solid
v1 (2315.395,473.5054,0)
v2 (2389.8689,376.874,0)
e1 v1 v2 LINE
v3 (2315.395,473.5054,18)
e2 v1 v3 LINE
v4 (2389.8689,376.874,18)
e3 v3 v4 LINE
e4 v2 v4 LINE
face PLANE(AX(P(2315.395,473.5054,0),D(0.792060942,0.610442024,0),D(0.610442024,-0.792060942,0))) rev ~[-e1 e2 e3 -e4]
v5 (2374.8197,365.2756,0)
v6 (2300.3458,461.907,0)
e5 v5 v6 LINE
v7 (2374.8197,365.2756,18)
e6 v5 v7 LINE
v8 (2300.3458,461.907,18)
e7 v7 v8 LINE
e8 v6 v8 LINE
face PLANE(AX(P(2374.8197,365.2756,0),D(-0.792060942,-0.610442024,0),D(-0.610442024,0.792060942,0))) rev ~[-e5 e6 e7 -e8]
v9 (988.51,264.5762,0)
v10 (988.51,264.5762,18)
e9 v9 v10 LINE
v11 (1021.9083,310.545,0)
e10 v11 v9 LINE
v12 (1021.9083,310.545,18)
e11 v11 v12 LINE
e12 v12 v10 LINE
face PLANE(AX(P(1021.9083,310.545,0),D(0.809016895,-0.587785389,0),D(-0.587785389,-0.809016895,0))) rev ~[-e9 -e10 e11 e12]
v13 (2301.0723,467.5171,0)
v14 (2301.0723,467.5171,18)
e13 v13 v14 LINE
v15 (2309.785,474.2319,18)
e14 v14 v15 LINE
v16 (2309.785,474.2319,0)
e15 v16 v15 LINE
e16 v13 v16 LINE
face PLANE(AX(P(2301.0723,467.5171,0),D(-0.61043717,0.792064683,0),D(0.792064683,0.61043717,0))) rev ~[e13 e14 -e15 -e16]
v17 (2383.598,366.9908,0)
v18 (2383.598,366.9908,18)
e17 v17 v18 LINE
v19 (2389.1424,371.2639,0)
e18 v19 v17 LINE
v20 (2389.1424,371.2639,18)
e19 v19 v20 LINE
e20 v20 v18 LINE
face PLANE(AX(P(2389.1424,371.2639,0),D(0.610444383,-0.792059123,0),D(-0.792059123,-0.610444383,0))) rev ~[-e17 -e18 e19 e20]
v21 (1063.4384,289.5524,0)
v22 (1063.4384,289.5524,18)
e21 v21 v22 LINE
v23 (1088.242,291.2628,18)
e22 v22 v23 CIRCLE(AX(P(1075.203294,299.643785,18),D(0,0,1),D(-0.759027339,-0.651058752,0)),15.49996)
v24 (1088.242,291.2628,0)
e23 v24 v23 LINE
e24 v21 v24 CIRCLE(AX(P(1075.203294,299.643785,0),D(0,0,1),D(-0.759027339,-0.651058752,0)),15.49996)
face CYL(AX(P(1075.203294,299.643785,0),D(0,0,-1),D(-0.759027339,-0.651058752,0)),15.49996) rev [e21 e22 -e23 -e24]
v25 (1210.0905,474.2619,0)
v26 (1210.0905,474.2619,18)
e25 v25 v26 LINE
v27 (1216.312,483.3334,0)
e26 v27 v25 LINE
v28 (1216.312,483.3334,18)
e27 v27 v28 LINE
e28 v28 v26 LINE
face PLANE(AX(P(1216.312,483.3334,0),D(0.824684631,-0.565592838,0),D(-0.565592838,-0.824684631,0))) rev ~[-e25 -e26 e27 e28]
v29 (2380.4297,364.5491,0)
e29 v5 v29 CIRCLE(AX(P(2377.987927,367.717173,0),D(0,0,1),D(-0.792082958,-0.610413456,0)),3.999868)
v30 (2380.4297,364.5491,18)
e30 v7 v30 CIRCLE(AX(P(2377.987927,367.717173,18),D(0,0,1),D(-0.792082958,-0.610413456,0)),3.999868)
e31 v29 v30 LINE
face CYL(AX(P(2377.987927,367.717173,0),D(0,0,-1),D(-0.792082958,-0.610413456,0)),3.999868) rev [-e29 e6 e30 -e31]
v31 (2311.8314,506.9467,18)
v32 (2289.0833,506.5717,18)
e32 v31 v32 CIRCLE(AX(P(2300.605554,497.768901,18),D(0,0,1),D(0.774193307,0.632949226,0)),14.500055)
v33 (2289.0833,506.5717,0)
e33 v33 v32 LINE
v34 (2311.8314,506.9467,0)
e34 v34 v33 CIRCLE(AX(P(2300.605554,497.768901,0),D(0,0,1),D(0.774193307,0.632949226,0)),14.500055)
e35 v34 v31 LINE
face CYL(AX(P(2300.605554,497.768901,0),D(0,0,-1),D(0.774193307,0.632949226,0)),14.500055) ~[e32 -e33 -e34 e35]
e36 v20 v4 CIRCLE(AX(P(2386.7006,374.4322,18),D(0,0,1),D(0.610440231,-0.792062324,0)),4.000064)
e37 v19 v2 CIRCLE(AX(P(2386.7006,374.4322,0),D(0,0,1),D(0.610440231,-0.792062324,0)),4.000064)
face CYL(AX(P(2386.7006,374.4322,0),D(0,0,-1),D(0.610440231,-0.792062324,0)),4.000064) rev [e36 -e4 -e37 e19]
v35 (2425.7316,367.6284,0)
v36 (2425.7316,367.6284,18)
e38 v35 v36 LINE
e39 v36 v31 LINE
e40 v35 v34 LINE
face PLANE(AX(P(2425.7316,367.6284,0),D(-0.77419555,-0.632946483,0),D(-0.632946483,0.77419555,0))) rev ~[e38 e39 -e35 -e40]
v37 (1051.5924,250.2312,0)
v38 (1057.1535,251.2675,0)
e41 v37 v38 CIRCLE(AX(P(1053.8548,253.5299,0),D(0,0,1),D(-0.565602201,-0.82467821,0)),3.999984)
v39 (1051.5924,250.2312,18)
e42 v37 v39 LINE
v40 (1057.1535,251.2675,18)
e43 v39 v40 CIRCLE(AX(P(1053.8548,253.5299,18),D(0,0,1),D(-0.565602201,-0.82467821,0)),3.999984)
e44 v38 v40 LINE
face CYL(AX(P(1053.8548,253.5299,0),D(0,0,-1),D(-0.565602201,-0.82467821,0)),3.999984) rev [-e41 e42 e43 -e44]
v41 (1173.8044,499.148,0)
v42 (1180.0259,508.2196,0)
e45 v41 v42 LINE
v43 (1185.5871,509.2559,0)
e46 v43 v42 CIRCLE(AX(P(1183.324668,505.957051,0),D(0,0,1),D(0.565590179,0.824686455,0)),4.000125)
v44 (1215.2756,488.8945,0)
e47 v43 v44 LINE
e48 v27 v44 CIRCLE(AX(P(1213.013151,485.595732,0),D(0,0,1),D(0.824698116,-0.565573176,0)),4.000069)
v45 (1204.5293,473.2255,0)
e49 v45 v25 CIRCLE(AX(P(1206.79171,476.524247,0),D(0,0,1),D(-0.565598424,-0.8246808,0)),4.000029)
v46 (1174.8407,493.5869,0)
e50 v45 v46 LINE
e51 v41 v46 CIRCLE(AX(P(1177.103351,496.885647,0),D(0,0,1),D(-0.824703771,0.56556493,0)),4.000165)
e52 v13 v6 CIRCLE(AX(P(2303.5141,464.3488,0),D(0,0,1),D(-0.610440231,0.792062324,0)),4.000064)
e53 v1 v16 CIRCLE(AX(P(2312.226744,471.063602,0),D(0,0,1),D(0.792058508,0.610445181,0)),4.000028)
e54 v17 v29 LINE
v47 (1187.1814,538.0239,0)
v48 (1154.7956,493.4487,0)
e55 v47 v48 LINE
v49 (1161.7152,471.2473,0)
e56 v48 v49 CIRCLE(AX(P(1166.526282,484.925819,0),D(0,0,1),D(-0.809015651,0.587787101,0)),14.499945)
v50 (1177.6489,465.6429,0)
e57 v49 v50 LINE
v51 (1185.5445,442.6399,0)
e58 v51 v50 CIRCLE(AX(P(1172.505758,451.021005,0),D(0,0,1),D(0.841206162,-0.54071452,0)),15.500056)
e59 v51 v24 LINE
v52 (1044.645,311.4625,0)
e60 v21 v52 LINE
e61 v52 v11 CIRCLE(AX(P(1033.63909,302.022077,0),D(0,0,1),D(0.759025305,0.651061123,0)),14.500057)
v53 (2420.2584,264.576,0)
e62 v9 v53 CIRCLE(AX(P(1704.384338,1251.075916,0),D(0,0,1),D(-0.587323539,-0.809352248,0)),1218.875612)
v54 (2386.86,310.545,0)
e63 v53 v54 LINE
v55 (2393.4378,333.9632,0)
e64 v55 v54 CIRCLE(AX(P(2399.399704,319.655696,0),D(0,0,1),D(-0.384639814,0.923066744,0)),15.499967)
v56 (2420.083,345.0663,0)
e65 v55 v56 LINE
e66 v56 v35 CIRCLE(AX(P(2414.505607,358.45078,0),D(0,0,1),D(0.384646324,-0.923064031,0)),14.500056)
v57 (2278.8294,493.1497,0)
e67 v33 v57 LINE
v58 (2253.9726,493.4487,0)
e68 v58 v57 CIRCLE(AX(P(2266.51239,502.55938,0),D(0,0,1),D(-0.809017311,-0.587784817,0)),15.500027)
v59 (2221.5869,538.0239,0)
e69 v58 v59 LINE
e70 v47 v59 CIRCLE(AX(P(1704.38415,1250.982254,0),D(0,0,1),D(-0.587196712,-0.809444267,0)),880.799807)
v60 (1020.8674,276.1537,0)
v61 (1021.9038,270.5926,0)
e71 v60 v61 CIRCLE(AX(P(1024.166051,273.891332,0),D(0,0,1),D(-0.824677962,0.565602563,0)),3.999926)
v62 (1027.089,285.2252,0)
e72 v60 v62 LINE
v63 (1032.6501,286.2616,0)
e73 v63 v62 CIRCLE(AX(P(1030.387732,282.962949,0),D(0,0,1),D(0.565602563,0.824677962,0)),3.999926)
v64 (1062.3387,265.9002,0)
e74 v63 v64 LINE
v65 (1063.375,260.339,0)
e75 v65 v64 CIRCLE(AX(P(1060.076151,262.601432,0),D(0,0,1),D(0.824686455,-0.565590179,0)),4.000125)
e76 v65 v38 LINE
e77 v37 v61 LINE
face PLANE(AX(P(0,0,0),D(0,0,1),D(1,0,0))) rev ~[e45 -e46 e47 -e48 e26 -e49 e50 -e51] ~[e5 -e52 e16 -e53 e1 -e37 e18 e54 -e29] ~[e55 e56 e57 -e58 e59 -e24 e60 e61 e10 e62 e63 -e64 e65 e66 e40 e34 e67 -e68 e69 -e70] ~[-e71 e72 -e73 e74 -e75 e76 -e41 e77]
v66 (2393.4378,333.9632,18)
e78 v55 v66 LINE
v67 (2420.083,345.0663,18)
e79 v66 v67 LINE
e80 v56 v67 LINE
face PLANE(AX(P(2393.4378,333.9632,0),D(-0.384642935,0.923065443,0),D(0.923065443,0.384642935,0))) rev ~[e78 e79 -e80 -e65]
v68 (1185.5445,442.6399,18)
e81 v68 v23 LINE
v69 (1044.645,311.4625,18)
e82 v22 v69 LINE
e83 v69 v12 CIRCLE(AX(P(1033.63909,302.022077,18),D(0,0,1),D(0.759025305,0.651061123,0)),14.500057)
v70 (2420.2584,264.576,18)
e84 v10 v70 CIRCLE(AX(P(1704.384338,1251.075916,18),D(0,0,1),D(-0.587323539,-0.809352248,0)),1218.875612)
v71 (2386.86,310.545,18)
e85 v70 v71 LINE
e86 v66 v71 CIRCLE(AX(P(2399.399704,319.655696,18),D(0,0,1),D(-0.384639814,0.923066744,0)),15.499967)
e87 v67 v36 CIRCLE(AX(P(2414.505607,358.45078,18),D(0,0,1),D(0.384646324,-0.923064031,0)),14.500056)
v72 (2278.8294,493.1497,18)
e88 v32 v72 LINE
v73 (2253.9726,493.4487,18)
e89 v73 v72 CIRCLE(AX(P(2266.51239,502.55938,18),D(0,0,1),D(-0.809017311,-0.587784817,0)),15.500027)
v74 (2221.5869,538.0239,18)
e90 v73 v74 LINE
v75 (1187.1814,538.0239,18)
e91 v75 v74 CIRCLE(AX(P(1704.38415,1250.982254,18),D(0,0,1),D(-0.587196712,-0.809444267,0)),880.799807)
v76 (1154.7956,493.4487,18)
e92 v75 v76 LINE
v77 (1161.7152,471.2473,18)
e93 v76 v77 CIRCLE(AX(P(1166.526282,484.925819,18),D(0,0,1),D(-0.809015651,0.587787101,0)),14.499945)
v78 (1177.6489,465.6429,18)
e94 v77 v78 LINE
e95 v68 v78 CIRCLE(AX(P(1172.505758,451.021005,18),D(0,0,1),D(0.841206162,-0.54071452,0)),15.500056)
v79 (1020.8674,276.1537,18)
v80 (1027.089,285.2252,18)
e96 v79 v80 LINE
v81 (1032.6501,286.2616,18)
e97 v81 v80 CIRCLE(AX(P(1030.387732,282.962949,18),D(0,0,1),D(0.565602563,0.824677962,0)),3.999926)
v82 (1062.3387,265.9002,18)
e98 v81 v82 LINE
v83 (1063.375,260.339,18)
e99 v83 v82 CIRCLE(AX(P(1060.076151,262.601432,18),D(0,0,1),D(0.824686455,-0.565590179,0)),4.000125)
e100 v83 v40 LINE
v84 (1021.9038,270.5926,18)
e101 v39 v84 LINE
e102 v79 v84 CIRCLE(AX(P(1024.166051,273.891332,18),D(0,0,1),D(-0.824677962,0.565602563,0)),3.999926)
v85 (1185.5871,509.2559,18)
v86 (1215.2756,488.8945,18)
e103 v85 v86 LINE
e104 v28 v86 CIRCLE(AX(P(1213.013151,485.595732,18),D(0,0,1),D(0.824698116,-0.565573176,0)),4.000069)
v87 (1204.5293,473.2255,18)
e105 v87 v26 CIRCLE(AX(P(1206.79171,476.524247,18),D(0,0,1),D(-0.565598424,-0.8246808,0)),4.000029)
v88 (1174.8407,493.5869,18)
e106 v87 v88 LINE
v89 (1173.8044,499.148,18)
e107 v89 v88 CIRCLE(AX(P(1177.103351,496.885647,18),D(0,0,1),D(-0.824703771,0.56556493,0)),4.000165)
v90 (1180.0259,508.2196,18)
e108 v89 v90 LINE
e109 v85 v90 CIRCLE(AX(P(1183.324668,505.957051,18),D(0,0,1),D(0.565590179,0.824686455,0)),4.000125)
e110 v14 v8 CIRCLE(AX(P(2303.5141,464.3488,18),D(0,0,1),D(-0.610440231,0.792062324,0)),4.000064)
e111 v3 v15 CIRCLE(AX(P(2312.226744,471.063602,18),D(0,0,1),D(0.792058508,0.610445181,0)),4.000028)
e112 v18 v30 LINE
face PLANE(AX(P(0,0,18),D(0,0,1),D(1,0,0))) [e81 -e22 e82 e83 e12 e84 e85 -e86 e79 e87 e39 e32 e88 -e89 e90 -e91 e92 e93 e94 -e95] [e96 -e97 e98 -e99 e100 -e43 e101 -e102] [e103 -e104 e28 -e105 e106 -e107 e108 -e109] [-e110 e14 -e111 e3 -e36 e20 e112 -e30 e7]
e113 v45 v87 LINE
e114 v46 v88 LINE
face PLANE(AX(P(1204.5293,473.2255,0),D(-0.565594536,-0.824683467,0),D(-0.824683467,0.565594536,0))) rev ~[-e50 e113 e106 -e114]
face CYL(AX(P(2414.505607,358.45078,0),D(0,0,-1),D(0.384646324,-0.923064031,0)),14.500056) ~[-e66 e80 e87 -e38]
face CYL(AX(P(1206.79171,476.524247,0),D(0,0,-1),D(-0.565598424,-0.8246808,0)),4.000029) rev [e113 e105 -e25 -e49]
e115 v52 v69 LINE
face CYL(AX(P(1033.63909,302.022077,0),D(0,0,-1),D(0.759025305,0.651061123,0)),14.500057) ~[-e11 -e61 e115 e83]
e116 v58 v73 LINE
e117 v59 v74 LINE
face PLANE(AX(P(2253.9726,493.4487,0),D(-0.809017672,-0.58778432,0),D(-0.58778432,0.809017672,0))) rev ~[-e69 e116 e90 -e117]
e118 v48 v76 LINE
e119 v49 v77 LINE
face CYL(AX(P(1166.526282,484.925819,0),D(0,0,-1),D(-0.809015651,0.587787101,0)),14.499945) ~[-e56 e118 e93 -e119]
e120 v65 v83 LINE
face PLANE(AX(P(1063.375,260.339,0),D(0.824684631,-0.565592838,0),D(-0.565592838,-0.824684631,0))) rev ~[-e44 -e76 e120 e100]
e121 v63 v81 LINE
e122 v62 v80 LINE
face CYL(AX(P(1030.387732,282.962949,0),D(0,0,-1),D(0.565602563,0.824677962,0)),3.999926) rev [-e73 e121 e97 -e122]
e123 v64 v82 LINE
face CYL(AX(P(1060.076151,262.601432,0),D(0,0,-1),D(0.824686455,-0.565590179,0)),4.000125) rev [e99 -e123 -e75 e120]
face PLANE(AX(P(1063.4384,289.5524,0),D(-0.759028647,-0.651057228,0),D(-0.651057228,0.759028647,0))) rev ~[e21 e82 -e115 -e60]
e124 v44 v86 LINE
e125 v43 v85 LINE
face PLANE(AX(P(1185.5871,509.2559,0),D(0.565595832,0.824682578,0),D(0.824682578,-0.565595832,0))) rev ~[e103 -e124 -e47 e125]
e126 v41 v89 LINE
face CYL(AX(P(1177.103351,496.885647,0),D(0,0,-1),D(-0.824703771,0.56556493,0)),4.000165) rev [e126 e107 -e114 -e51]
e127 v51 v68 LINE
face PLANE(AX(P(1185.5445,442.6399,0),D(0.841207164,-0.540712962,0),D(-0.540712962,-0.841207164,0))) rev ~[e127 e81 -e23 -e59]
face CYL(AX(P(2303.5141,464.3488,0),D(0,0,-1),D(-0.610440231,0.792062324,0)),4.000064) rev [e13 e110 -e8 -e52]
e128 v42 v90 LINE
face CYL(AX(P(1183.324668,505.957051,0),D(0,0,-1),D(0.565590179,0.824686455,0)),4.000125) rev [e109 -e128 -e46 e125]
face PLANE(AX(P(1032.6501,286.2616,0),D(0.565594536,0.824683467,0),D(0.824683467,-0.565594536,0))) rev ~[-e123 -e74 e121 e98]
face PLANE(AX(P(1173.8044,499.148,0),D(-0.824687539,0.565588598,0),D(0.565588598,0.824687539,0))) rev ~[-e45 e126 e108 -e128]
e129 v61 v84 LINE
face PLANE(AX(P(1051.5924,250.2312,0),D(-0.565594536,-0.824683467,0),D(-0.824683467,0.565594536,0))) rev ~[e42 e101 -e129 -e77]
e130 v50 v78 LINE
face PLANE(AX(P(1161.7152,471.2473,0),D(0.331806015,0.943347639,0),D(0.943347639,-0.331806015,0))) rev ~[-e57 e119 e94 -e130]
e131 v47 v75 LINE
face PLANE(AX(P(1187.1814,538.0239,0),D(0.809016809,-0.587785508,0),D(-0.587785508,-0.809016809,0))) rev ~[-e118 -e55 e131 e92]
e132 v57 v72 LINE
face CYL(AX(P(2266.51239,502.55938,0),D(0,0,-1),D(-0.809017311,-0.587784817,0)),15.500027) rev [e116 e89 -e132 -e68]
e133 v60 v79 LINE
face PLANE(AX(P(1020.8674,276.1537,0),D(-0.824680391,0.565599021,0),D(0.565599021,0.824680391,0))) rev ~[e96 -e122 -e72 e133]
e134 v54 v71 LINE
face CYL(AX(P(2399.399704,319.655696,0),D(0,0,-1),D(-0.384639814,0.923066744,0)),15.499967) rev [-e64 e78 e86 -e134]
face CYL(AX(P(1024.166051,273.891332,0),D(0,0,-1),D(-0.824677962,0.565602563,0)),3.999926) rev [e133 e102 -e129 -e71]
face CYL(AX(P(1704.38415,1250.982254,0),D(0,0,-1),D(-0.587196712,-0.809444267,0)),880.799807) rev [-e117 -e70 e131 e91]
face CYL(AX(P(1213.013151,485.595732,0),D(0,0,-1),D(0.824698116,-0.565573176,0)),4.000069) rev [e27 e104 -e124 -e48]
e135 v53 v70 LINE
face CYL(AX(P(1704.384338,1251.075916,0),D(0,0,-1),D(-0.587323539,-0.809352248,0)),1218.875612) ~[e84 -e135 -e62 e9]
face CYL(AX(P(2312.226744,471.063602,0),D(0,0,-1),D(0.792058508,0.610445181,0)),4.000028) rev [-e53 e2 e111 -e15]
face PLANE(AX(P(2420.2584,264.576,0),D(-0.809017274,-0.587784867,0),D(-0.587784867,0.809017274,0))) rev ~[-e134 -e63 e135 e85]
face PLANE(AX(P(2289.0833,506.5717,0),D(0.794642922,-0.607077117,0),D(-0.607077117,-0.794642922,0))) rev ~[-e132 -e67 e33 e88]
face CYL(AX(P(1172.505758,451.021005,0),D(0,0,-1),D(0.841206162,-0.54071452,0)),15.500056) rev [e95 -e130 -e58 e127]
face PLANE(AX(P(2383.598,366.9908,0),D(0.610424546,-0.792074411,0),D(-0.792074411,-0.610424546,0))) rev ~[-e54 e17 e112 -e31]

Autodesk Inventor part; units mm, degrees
ref_plane "YZ Plane" through (0, 0, 0) normal (1, 0, 0) x (0, 1, 0)
ref_plane "XZ Plane" through (0, 0, 0) normal (0, 1, 0) x (-1, 0, 0)
ref_plane "XY Plane" through (0, 0, 0) normal (0, 0, 1) x (1, 0, 0)
sketch "CONTOURS" plane through (0, 0, 0) normal (0, 0, 1) x (1, 0, 0)
  line L0 (1187.1814, 538.0239) -> (1154.7956, 493.4487)
  arc A0 (1154.7956, 493.4487) -> (1161.7152, 471.2473) centre (1166.5264, 484.9258) ccw
  line L1 (1161.7152, 471.2473) -> (1177.6489, 465.6429)
  arc A1 (1185.5445, 442.6399) -> (1177.6489, 465.6429) centre (1172.5058, 451.021) ccw
  line L2 (1185.5445, 442.6399) -> (1088.242, 291.2628)
  arc A2 (1063.4384, 289.5524) -> (1088.242, 291.2628) centre (1075.2033, 299.6438) ccw
  line L3 (1063.4384, 289.5524) -> (1044.645, 311.4625)
  arc A3 (1044.645, 311.4625) -> (1021.9083, 310.545) centre (1033.6391, 302.0221) ccw
  line L4 (1021.9083, 310.545) -> (988.51, 264.5762)
  arc A4 (988.51, 264.5762) -> (2420.2584, 264.576) centre (1704.3843, 1251.0758) ccw
  line L5 (2420.2584, 264.576) -> (2386.86, 310.545)
  arc A5 (2393.4378, 333.9632) -> (2386.86, 310.545) centre (2399.3997, 319.6557) ccw
  line L6 (2393.4378, 333.9632) -> (2420.083, 345.0663)
  arc A6 (2420.083, 345.0663) -> (2425.7316, 367.6284) centre (2414.5057, 358.4507) ccw
  line L7 (2425.7316, 367.6284) -> (2311.8314, 506.9467)
  arc A7 (2311.8314, 506.9467) -> (2289.0833, 506.5717) centre (2300.6056, 497.769) ccw
  line L8 (2289.0833, 506.5717) -> (2278.8294, 493.1497)
  arc A8 (2253.9726, 493.4487) -> (2278.8294, 493.1497) centre (2266.5124, 502.5594) ccw
  line L9 (2253.9726, 493.4487) -> (2221.5869, 538.0239)
  arc A9 (1187.1814, 538.0239) -> (2221.5869, 538.0239) centre (1704.3841, 1250.9821) ccw
sketch "HOLES" plane through (0, 0, 0) normal (0, 0, 1) x (1, 0, 0)
  arc A0 (1185.5871, 509.2559) -> (1180.0259, 508.2196) centre (1183.3247, 505.9572) ccw
  line L0 (1185.5871, 509.2559) -> (1215.2756, 488.8945)
  arc A1 (1216.312, 483.3334) -> (1215.2756, 488.8945) centre (1213.0133, 485.5957) ccw
  line L1 (1216.312, 483.3334) -> (1210.0905, 474.2619)
  arc A2 (1204.5293, 473.2255) -> (1210.0905, 474.2619) centre (1206.7917, 476.5242) ccw
  line L2 (1204.5293, 473.2255) -> (1174.8407, 493.5869)
  arc A3 (1173.8044, 499.148) -> (1174.8407, 493.5869) centre (1177.1031, 496.8857) ccw
  line L3 (2383.598, 366.9908) -> (2380.4297, 364.5491)
  arc A4 (2374.8197, 365.2756) -> (2380.4297, 364.5491) centre (2377.988, 367.7173) ccw
  line L4 (2374.8197, 365.2756) -> (2300.3458, 461.907)
  arc A5 (2301.0723, 467.5171) -> (2300.3458, 461.907) centre (2303.5141, 464.3488) ccw
  line L5 (2301.0723, 467.5171) -> (2309.785, 474.2319)
  arc A6 (2315.395, 473.5054) -> (2309.785, 474.2319) centre (2312.2268, 471.0637) ccw
  line L6 (2315.395, 473.5054) -> (2389.8689, 376.874)
  arc A7 (2389.1424, 371.2639) -> (2389.8689, 376.874) centre (2386.7006, 374.4322) ccw
  line L7 (2389.1424, 371.2639) -> (2383.598, 366.9908)
  line L8 (1063.375, 260.339) -> (1057.1535, 251.2675)
  arc A8 (1051.5924, 250.2312) -> (1057.1535, 251.2675) centre (1053.8548, 253.5299) ccw
  line L9 (1051.5924, 250.2312) -> (1021.9038, 270.5926)
  arc A9 (1020.8674, 276.1537) -> (1021.9038, 270.5926) centre (1024.1662, 273.8913) ccw
  line L10 (1020.8674, 276.1537) -> (1027.089, 285.2252)
  arc A10 (1032.6501, 286.2616) -> (1027.089, 285.2252) centre (1030.3877, 282.9628) ccw
  line L11 (1032.6501, 286.2616) -> (1062.3387, 265.9002)
  arc A11 (1063.375, 260.339) -> (1062.3387, 265.9002) centre (1060.0763, 262.6014) ccw
  line L12 (1173.8044, 499.148) -> (1180.0259, 508.2196)
sketch "LETTERS" plane through (0, 0, 0) normal (0, 0, 1) x (1, 0, 0)
  line L0 (1208.7696, 324.759) -> (1209.0033, 324.7372)
  line L1 (1209.0033, 324.7372) -> (1209.2368, 324.7098)
  line L2 (1209.2368, 324.7098) -> (1209.4699, 324.6767)
  line L3 (1209.4699, 324.6767) -> (1209.7026, 324.638)
  line L4 (1209.7026, 324.638) -> (1209.9347, 324.5939)
  line L5 (1209.9347, 324.5939) -> (1210.166, 324.5444)
  line L6 (1210.166, 324.5444) -> (1210.3965, 324.4896)
  line L7 (1210.3965, 324.4896) -> (1210.6261, 324.4296)
  line L8 (1210.6261, 324.4296) -> (1210.8547, 324.3644)
  line L9 (1210.8547, 324.3644) -> (1211.082, 324.294)
  line L10 (1211.082, 324.294) -> (1211.3081, 324.2187)
  line L11 (1211.3081, 324.2187) -> (1211.5327, 324.1384)
  line L12 (1211.5327, 324.1384) -> (1211.7559, 324.0533)
  line L13 (1211.7559, 324.0533) -> (1211.9774, 323.9634)
  line L14 (1211.9774, 323.9634) -> (1212.1971, 323.8687)
  line L15 (1212.1971, 323.8687) -> (1212.415, 323.7694)
  line L16 (1212.415, 323.7694) -> (1212.6308, 323.6655)
  line L17 (1212.6308, 323.6655) -> (1212.8446, 323.5572)
  line L18 (1212.8446, 323.5572) -> (1213.0562, 323.4444)
  line L19 (1213.0562, 323.4444) -> (1213.2655, 323.3273)
  line L20 (1213.2655, 323.3273) -> (1213.4724, 323.2058)
  line L21 (1213.4724, 323.2058) -> (1213.6769, 323.0802)
  line L22 (1213.6769, 323.0802) -> (1213.8789, 322.9504)
  line L23 (1213.8789, 322.9504) -> (1214.0783, 322.8166)
  line L24 (1214.0783, 322.8166) -> (1214.275, 322.6787)
  line L25 (1214.275, 322.6787) -> (1214.469, 322.5369)
  line L26 (1214.469, 322.5369) -> (1214.6601, 322.3913)
  line L27 (1214.6601, 322.3913) -> (1214.8483, 322.2419)
  line L28 (1214.8483, 322.2419) -> (1215.0335, 322.0887)
  line L29 (1215.0335, 322.0887) -> (1215.2156, 321.9319)
  line L30 (1215.2156, 321.9319) -> (1215.3946, 321.7715)
  line L31 (1215.3946, 321.7715) -> (1215.5703, 321.6076)
  line L32 (1215.5703, 321.6076) -> (1215.7426, 321.4402)
  line L33 (1215.7426, 321.4402) -> (1215.9116, 321.2695)
  line L34 (1215.9116, 321.2695) -> (1216.0771, 321.0955)
  line L35 (1216.0771, 321.0955) -> (1216.2389, 320.9182)
  line L36 (1216.2389, 320.9182) -> (1216.3972, 320.7378)
  line L37 (1216.3972, 320.7378) -> (1216.5517, 320.5543)
  line L38 (1216.5517, 320.5543) -> (1216.7024, 320.3678)
  line L39 (1216.7024, 320.3678) -> (1216.8491, 320.1783)
  line L40 (1216.8491, 320.1783) -> (1216.9919, 319.9859)
  line L41 (1216.9919, 319.9859) -> (1217.1307, 319.7908)
  line L42 (1217.1307, 319.7908) -> (1217.2653, 319.5929)
  line L43 (1217.2653, 319.5929) -> (1217.3956, 319.3923)
  line L44 (1217.3956, 319.3923) -> (1217.5217, 319.1891)
  line L45 (1217.5217, 319.1891) -> (1217.6434, 318.9834)
  line L46 (1217.6434, 318.9834) -> (1217.7606, 318.7752)
  line L47 (1217.7606, 318.7752) -> (1217.8733, 318.5647)
  line L48 (1217.8733, 318.5647) -> (1217.9813, 318.3518)
  line L49 (1217.9813, 318.3518) -> (1218.0846, 318.1367)
  line L50 (1218.0846, 318.1367) -> (1218.1832, 317.9195)
  line L51 (1218.1832, 317.9195) -> (1218.2769, 317.7002)
  line L52 (1218.2769, 317.7002) -> (1218.3657, 317.4791)
  line L53 (1218.3657, 317.4791) -> (1218.4496, 317.2562)
  line L54 (1218.4496, 317.2562) -> (1218.5286, 317.0317)
  line L55 (1218.5286, 317.0317) -> (1218.6024, 316.8056)
  line L56 (1218.6024, 316.8056) -> (1218.6712, 316.5781)
  line L57 (1218.6712, 316.5781) -> (1218.7348, 316.3494)
  line L58 (1218.7348, 316.3494) -> (1218.7932, 316.1195)
  line L59 (1218.7932, 316.1195) -> (1218.8464, 315.8885)
  line L60 (1218.8464, 315.8885) -> (1218.8942, 315.6566)
  line L61 (1218.8942, 315.6566) -> (1218.9366, 315.424)
  line L62 (1218.9366, 315.424) -> (1218.9736, 315.1906)
  line L63 (1218.9736, 315.1906) -> (1219.0051, 314.9567)
  line L64 (1219.0051, 314.9567) -> (1219.031, 314.7224)
  line L65 (1219.031, 314.7224) -> (1219.0514, 314.4877)
  line L66 (1219.0514, 314.4877) -> (1219.0661, 314.2529)
  line L67 (1219.0661, 314.2529) -> (1219.0751, 314.0179)
  line L68 (1219.0751, 314.0179) -> (1219.0783, 313.783)
  line L69 (1219.0783, 313.783) -> (1219.0757, 313.5483)
  line L70 (1219.0757, 313.5483) -> (1219.0672, 313.3139)
  line L71 (1219.0672, 313.3139) -> (1219.0528, 313.0799)
  line L72 (1219.0528, 313.0799) -> (1219.0324, 312.8464)
  line L73 (1219.0324, 312.8464) -> (1219.0059, 312.6136)
  line L74 (1219.0059, 312.6136) -> (1218.9733, 312.3815)
  line L75 (1218.9733, 312.3815) -> (1218.9346, 312.1503)
  line L76 (1218.9346, 312.1503) -> (1218.8897, 311.9202)
  line L77 (1218.8897, 311.9202) -> (1218.8385, 311.6911)
  line L78 (1218.8385, 311.6911) -> (1218.7809, 311.4634)
  line L79 (1218.7809, 311.4634) -> (1218.717, 311.237)
  line L80 (1218.717, 311.237) -> (1218.6466, 311.0121)
  line L81 (1218.6466, 311.0121) -> (1218.5698, 310.7888)
  line L82 (1218.5698, 310.7888) -> (1218.4866, 310.5673)
  line L83 (1218.4866, 310.5673) -> (1218.3972, 310.3477)
  line L84 (1218.3972, 310.3477) -> (1218.3016, 310.1302)
  line L85 (1218.3016, 310.1302) -> (1218.2, 309.9149)
  line L86 (1218.2, 309.9149) -> (1218.0925, 309.7021)
  line L87 (1218.0925, 309.7021) -> (1217.9793, 309.4917)
  line L88 (1217.9793, 309.4917) -> (1217.8604, 309.2841)
  line L89 (1217.8604, 309.2841) -> (1217.7359, 309.0793)
  line L90 (1217.7359, 309.0793) -> (1217.6061, 308.8776)
  line L91 (1217.6061, 308.8776) -> (1217.471, 308.679)
  line L92 (1217.471, 308.679) -> (1217.3307, 308.4837)
  line L93 (1217.3307, 308.4837) -> (1217.1853, 308.2919)
  line L94 (1217.1853, 308.2919) -> (1217.035, 308.1038)
  line L95 (1217.035, 308.1038) -> (1216.8799, 307.9194)
  line L96 (1216.8799, 307.9194) -> (1216.7202, 307.739)
  line L97 (1216.7202, 307.739) -> (1216.5558, 307.5626)
  line L98 (1216.5558, 307.5626) -> (1216.3871, 307.3906)
  line L99 (1216.3871, 307.3906) -> (1216.214, 307.2229)
  line L100 (1216.214, 307.2229) -> (1216.0366, 307.0598)
  line L101 (1216.0366, 307.0598) -> (1215.8552, 306.9014)
  line L102 (1215.8552, 306.9014) -> (1215.6699, 306.7478)
  line L103 (1215.6699, 306.7478) -> (1215.4807, 306.5993)
  line L104 (1215.4807, 306.5993) -> (1215.2878, 306.456)
  line L105 (1215.2878, 306.456) -> (1215.0912, 306.318)
  line L106 (1215.0912, 306.318) -> (1214.8912, 306.1855)
  line L107 (1214.8912, 306.1855) -> (1214.6878, 306.0587)
  line L108 (1214.6878, 306.0587) -> (1214.4812, 305.9377)
  line L109 (1214.4812, 305.9377) -> (1214.2715, 305.8226)
  line L110 (1214.2715, 305.8226) -> (1214.0588, 305.7136)
  line L111 (1214.0588, 305.7136) -> (1213.8431, 305.6109)
  line L112 (1213.8431, 305.6109) -> (1213.6248, 305.5146)
  line L113 (1213.6248, 305.5146) -> (1213.4038, 305.4249)
  line L114 (1213.4038, 305.4249) -> (1213.1803, 305.3417)
  line L115 (1213.1803, 305.3417) -> (1212.9546, 305.2653)
  line L116 (1212.9546, 305.2653) -> (1212.7269, 305.1955)
  line L117 (1212.7269, 305.1955) -> (1212.4974, 305.1324)
  line L118 (1212.4974, 305.1324) -> (1212.2662, 305.0761)
  line L119 (1212.2662, 305.0761) -> (1212.0336, 305.0266)
  line L120 (1212.0336, 305.0266) -> (1211.7997, 304.984)
  line L121 (1211.7997, 304.984) -> (1211.5648, 304.9482)
  line L122 (1211.5648, 304.9482) -> (1211.3291, 304.9193)
  line L123 (1211.3291, 304.9193) -> (1211.0928, 304.8974)
  line L124 (1211.0928, 304.8974) -> (1210.856, 304.8825)
  line L125 (1210.856, 304.8825) -> (1210.6191, 304.8745)
  line L126 (1210.6191, 304.8745) -> (1210.382, 304.8736)
  line L127 (1210.382, 304.8736) -> (1210.1452, 304.8798)
  line L128 (1210.1452, 304.8798) -> (1209.9088, 304.8931)
  line L129 (1209.9088, 304.8931) -> (1209.6729, 304.9136)
  line L130 (1209.6729, 304.9136) -> (1209.4378, 304.9413)
  line L131 (1209.4378, 304.9413) -> (1209.2037, 304.9762)
  line L132 (1209.2037, 304.9762) -> (1208.9708, 305.0183)
  line L133 (1208.9708, 305.0183) -> (1208.7392, 305.0678)
  line L134 (1208.7392, 305.0678) -> (1208.5093, 305.1246)
  line L135 (1208.5093, 305.1246) -> (1208.2811, 305.1888)
  line L136 (1208.2811, 305.1888) -> (1208.0549, 305.2604)
  line L137 (1208.0549, 305.2604) -> (1207.831, 305.3394)
  line L138 (1207.831, 305.3394) -> (1207.6094, 305.4259)
  line L139 (1207.6094, 305.4259) -> (1207.3904, 305.52)
  line L140 (1207.3904, 305.52) -> (1207.1741, 305.6215)
  line L141 (1207.1741, 305.6215) -> (1206.9609, 305.7306)
  line L142 (1206.9609, 305.7306) -> (1206.7508, 305.8474)
  line L143 (1206.7508, 305.8474) -> (1206.5442, 305.9718)
  line L144 (1206.5442, 305.9718) -> (1206.4422, 306.0369)
  line L145 (1206.4422, 306.0369) -> (1206.3411, 306.1039)
  line L146 (1200.6132, 311.8395) -> (1200.4954, 312.0474)
  line L147 (1200.4954, 312.0474) -> (1200.3834, 312.2585)
  line L148 (1200.3834, 312.2585) -> (1200.2774, 312.4725)
  line L149 (1200.2774, 312.4725) -> (1200.1773, 312.6893)
  line L150 (1200.1773, 312.6893) -> (1200.0833, 312.9088)
  line L151 (1200.0833, 312.9088) -> (1199.9953, 313.1306)
  line L152 (1199.9953, 313.1306) -> (1199.9133, 313.3547)
  line L153 (1199.9133, 313.3547) -> (1199.8375, 313.5809)
  line L154 (1199.8375, 313.5809) -> (1199.7678, 313.809)
  line L155 (1199.7678, 313.809) -> (1199.7043, 314.0389)
  line L156 (1199.7043, 314.0389) -> (1199.647, 314.2703)
  line L157 (1199.647, 314.2703) -> (1199.596, 314.5031)
  line L158 (1199.596, 314.5031) -> (1199.5512, 314.7371)
  line L159 (1199.5512, 314.7371) -> (1199.5127, 314.9721)
  line L160 (1199.5127, 314.9721) -> (1199.4806, 315.208)
  line L161 (1199.4806, 315.208) -> (1199.4549, 315.4446)
  line L162 (1199.4549, 315.4446) -> (1199.4356, 315.6817)
  line L163 (1199.4356, 315.6817) -> (1199.4228, 315.9191)
  line L164 (1199.4228, 315.9191) -> (1199.4164, 316.1567)
  line L165 (1199.4164, 316.1567) -> (1199.4166, 316.3943)
  line L166 (1199.4166, 316.3943) -> (1199.4234, 316.6317)
  line L167 (1199.4234, 316.6317) -> (1199.4367, 316.8687)
  line L168 (1199.4367, 316.8687) -> (1199.4567, 317.1052)
  line L169 (1199.4567, 317.1052) -> (1199.4833, 317.341)
  line L170 (1199.4833, 317.341) -> (1199.5167, 317.5759)
  line L171 (1199.5167, 317.5759) -> (1199.5568, 317.8098)
  line L172 (1199.5568, 317.8098) -> (1199.6036, 318.0424)
  line L173 (1199.6036, 318.0424) -> (1199.6573, 318.2736)
  line L174 (1199.6573, 318.2736) -> (1199.7178, 318.5032)
  line L175 (1199.7178, 318.5032) -> (1199.7852, 318.731)
  line L176 (1199.7852, 318.731) -> (1199.8595, 318.9569)
  line L177 (1199.8595, 318.9569) -> (1199.9408, 319.1808)
  line L178 (1199.9408, 319.1808) -> (1200.029, 319.4023)
  line L179 (1200.029, 319.4023) -> (1200.124, 319.6214)
  line L180 (1200.124, 319.6214) -> (1200.2257, 319.8379)
  line L181 (1200.2257, 319.8379) -> (1200.3338, 320.0517)
  line L182 (1200.3338, 320.0517) -> (1200.4483, 320.2627)
  line L183 (1200.4483, 320.2627) -> (1200.5689, 320.4706)
  line L184 (1200.5689, 320.4706) -> (1200.6955, 320.6754)
  line L185 (1200.6955, 320.6754) -> (1200.8279, 320.8769)
  line L186 (1200.8279, 320.8769) -> (1200.966, 321.075)
  line L187 (1200.966, 321.075) -> (1201.1095, 321.2695)
  line L188 (1201.1095, 321.2695) -> (1201.2584, 321.4603)
  line L189 (1201.2584, 321.4603) -> (1201.4123, 321.6472)
  line L190 (1201.4123, 321.6472) -> (1201.5713, 321.8301)
  line L191 (1201.5713, 321.8301) -> (1201.7351, 322.0088)
  line L192 (1201.7351, 322.0088) -> (1201.9035, 322.1833)
  line L193 (1201.9035, 322.1833) -> (1202.0764, 322.3533)
  line L194 (1202.0764, 322.3533) -> (1202.2535, 322.5187)
  line L195 (1202.2535, 322.5187) -> (1202.4349, 322.6794)
  line L196 (1202.4349, 322.6794) -> (1202.6202, 322.8352)
  line L197 (1202.6202, 322.8352) -> (1202.8093, 322.986)
  line L198 (1202.8093, 322.986) -> (1203.002, 323.1317)
  line L199 (1203.002, 323.1317) -> (1203.1982, 323.272)
  line L200 (1203.1982, 323.272) -> (1203.3977, 323.4069)
  line L201 (1203.3977, 323.4069) -> (1203.6004, 323.5362)
  line L202 (1203.6004, 323.5362) -> (1203.806, 323.6598)
  line L203 (1203.806, 323.6598) -> (1204.0144, 323.7774)
  line L204 (1204.0144, 323.7774) -> (1204.2254, 323.8891)
  line L205 (1204.2254, 323.8891) -> (1204.4389, 323.9946)
  line L206 (1204.4389, 323.9946) -> (1204.6547, 324.0938)
  line L207 (1204.6547, 324.0938) -> (1204.8726, 324.1865)
  line L208 (1204.8726, 324.1865) -> (1205.0925, 324.2727)
  line L209 (1205.0925, 324.2727) -> (1205.3142, 324.352)
  line L210 (1205.3142, 324.352) -> (1205.5375, 324.4246)
  line L211 (1205.5375, 324.4246) -> (1205.7624, 324.4903)
  line L212 (1205.7624, 324.4903) -> (1205.9886, 324.5493)
  line L213 (1205.9886, 324.5493) -> (1206.2161, 324.6016)
  line L214 (1206.2161, 324.6016) -> (1206.4448, 324.6474)
  line L215 (1206.4448, 324.6474) -> (1206.6745, 324.6866)
  line L216 (1206.6745, 324.6866) -> (1206.9051, 324.7194)
  line L217 (1206.9051, 324.7194) -> (1207.1366, 324.7459)
  line L218 (1207.1366, 324.7459) -> (1207.3687, 324.766)
  line L219 (1208.5357, 324.775) -> (1208.7696, 324.759)
  line L220 (1207.6014, 324.7799) -> (1207.8346, 324.7877)
  line L221 (1207.8346, 324.7877) -> (1208.0681, 324.7895)
  line L222 (1208.0681, 324.7895) -> (1208.3019, 324.7852)
  line L223 (1208.3019, 324.7852) -> (1208.5357, 324.775)
  line L224 (1207.3687, 324.766) -> (1207.6014, 324.7799)
extrude "Extrusion2" add sketch "CONTOURS" along normal blind 18
extrude "Extrusion3" cut sketch "HOLES" along normal blind 18
properties part number "Platform C2" material "Wood (Birch)"
